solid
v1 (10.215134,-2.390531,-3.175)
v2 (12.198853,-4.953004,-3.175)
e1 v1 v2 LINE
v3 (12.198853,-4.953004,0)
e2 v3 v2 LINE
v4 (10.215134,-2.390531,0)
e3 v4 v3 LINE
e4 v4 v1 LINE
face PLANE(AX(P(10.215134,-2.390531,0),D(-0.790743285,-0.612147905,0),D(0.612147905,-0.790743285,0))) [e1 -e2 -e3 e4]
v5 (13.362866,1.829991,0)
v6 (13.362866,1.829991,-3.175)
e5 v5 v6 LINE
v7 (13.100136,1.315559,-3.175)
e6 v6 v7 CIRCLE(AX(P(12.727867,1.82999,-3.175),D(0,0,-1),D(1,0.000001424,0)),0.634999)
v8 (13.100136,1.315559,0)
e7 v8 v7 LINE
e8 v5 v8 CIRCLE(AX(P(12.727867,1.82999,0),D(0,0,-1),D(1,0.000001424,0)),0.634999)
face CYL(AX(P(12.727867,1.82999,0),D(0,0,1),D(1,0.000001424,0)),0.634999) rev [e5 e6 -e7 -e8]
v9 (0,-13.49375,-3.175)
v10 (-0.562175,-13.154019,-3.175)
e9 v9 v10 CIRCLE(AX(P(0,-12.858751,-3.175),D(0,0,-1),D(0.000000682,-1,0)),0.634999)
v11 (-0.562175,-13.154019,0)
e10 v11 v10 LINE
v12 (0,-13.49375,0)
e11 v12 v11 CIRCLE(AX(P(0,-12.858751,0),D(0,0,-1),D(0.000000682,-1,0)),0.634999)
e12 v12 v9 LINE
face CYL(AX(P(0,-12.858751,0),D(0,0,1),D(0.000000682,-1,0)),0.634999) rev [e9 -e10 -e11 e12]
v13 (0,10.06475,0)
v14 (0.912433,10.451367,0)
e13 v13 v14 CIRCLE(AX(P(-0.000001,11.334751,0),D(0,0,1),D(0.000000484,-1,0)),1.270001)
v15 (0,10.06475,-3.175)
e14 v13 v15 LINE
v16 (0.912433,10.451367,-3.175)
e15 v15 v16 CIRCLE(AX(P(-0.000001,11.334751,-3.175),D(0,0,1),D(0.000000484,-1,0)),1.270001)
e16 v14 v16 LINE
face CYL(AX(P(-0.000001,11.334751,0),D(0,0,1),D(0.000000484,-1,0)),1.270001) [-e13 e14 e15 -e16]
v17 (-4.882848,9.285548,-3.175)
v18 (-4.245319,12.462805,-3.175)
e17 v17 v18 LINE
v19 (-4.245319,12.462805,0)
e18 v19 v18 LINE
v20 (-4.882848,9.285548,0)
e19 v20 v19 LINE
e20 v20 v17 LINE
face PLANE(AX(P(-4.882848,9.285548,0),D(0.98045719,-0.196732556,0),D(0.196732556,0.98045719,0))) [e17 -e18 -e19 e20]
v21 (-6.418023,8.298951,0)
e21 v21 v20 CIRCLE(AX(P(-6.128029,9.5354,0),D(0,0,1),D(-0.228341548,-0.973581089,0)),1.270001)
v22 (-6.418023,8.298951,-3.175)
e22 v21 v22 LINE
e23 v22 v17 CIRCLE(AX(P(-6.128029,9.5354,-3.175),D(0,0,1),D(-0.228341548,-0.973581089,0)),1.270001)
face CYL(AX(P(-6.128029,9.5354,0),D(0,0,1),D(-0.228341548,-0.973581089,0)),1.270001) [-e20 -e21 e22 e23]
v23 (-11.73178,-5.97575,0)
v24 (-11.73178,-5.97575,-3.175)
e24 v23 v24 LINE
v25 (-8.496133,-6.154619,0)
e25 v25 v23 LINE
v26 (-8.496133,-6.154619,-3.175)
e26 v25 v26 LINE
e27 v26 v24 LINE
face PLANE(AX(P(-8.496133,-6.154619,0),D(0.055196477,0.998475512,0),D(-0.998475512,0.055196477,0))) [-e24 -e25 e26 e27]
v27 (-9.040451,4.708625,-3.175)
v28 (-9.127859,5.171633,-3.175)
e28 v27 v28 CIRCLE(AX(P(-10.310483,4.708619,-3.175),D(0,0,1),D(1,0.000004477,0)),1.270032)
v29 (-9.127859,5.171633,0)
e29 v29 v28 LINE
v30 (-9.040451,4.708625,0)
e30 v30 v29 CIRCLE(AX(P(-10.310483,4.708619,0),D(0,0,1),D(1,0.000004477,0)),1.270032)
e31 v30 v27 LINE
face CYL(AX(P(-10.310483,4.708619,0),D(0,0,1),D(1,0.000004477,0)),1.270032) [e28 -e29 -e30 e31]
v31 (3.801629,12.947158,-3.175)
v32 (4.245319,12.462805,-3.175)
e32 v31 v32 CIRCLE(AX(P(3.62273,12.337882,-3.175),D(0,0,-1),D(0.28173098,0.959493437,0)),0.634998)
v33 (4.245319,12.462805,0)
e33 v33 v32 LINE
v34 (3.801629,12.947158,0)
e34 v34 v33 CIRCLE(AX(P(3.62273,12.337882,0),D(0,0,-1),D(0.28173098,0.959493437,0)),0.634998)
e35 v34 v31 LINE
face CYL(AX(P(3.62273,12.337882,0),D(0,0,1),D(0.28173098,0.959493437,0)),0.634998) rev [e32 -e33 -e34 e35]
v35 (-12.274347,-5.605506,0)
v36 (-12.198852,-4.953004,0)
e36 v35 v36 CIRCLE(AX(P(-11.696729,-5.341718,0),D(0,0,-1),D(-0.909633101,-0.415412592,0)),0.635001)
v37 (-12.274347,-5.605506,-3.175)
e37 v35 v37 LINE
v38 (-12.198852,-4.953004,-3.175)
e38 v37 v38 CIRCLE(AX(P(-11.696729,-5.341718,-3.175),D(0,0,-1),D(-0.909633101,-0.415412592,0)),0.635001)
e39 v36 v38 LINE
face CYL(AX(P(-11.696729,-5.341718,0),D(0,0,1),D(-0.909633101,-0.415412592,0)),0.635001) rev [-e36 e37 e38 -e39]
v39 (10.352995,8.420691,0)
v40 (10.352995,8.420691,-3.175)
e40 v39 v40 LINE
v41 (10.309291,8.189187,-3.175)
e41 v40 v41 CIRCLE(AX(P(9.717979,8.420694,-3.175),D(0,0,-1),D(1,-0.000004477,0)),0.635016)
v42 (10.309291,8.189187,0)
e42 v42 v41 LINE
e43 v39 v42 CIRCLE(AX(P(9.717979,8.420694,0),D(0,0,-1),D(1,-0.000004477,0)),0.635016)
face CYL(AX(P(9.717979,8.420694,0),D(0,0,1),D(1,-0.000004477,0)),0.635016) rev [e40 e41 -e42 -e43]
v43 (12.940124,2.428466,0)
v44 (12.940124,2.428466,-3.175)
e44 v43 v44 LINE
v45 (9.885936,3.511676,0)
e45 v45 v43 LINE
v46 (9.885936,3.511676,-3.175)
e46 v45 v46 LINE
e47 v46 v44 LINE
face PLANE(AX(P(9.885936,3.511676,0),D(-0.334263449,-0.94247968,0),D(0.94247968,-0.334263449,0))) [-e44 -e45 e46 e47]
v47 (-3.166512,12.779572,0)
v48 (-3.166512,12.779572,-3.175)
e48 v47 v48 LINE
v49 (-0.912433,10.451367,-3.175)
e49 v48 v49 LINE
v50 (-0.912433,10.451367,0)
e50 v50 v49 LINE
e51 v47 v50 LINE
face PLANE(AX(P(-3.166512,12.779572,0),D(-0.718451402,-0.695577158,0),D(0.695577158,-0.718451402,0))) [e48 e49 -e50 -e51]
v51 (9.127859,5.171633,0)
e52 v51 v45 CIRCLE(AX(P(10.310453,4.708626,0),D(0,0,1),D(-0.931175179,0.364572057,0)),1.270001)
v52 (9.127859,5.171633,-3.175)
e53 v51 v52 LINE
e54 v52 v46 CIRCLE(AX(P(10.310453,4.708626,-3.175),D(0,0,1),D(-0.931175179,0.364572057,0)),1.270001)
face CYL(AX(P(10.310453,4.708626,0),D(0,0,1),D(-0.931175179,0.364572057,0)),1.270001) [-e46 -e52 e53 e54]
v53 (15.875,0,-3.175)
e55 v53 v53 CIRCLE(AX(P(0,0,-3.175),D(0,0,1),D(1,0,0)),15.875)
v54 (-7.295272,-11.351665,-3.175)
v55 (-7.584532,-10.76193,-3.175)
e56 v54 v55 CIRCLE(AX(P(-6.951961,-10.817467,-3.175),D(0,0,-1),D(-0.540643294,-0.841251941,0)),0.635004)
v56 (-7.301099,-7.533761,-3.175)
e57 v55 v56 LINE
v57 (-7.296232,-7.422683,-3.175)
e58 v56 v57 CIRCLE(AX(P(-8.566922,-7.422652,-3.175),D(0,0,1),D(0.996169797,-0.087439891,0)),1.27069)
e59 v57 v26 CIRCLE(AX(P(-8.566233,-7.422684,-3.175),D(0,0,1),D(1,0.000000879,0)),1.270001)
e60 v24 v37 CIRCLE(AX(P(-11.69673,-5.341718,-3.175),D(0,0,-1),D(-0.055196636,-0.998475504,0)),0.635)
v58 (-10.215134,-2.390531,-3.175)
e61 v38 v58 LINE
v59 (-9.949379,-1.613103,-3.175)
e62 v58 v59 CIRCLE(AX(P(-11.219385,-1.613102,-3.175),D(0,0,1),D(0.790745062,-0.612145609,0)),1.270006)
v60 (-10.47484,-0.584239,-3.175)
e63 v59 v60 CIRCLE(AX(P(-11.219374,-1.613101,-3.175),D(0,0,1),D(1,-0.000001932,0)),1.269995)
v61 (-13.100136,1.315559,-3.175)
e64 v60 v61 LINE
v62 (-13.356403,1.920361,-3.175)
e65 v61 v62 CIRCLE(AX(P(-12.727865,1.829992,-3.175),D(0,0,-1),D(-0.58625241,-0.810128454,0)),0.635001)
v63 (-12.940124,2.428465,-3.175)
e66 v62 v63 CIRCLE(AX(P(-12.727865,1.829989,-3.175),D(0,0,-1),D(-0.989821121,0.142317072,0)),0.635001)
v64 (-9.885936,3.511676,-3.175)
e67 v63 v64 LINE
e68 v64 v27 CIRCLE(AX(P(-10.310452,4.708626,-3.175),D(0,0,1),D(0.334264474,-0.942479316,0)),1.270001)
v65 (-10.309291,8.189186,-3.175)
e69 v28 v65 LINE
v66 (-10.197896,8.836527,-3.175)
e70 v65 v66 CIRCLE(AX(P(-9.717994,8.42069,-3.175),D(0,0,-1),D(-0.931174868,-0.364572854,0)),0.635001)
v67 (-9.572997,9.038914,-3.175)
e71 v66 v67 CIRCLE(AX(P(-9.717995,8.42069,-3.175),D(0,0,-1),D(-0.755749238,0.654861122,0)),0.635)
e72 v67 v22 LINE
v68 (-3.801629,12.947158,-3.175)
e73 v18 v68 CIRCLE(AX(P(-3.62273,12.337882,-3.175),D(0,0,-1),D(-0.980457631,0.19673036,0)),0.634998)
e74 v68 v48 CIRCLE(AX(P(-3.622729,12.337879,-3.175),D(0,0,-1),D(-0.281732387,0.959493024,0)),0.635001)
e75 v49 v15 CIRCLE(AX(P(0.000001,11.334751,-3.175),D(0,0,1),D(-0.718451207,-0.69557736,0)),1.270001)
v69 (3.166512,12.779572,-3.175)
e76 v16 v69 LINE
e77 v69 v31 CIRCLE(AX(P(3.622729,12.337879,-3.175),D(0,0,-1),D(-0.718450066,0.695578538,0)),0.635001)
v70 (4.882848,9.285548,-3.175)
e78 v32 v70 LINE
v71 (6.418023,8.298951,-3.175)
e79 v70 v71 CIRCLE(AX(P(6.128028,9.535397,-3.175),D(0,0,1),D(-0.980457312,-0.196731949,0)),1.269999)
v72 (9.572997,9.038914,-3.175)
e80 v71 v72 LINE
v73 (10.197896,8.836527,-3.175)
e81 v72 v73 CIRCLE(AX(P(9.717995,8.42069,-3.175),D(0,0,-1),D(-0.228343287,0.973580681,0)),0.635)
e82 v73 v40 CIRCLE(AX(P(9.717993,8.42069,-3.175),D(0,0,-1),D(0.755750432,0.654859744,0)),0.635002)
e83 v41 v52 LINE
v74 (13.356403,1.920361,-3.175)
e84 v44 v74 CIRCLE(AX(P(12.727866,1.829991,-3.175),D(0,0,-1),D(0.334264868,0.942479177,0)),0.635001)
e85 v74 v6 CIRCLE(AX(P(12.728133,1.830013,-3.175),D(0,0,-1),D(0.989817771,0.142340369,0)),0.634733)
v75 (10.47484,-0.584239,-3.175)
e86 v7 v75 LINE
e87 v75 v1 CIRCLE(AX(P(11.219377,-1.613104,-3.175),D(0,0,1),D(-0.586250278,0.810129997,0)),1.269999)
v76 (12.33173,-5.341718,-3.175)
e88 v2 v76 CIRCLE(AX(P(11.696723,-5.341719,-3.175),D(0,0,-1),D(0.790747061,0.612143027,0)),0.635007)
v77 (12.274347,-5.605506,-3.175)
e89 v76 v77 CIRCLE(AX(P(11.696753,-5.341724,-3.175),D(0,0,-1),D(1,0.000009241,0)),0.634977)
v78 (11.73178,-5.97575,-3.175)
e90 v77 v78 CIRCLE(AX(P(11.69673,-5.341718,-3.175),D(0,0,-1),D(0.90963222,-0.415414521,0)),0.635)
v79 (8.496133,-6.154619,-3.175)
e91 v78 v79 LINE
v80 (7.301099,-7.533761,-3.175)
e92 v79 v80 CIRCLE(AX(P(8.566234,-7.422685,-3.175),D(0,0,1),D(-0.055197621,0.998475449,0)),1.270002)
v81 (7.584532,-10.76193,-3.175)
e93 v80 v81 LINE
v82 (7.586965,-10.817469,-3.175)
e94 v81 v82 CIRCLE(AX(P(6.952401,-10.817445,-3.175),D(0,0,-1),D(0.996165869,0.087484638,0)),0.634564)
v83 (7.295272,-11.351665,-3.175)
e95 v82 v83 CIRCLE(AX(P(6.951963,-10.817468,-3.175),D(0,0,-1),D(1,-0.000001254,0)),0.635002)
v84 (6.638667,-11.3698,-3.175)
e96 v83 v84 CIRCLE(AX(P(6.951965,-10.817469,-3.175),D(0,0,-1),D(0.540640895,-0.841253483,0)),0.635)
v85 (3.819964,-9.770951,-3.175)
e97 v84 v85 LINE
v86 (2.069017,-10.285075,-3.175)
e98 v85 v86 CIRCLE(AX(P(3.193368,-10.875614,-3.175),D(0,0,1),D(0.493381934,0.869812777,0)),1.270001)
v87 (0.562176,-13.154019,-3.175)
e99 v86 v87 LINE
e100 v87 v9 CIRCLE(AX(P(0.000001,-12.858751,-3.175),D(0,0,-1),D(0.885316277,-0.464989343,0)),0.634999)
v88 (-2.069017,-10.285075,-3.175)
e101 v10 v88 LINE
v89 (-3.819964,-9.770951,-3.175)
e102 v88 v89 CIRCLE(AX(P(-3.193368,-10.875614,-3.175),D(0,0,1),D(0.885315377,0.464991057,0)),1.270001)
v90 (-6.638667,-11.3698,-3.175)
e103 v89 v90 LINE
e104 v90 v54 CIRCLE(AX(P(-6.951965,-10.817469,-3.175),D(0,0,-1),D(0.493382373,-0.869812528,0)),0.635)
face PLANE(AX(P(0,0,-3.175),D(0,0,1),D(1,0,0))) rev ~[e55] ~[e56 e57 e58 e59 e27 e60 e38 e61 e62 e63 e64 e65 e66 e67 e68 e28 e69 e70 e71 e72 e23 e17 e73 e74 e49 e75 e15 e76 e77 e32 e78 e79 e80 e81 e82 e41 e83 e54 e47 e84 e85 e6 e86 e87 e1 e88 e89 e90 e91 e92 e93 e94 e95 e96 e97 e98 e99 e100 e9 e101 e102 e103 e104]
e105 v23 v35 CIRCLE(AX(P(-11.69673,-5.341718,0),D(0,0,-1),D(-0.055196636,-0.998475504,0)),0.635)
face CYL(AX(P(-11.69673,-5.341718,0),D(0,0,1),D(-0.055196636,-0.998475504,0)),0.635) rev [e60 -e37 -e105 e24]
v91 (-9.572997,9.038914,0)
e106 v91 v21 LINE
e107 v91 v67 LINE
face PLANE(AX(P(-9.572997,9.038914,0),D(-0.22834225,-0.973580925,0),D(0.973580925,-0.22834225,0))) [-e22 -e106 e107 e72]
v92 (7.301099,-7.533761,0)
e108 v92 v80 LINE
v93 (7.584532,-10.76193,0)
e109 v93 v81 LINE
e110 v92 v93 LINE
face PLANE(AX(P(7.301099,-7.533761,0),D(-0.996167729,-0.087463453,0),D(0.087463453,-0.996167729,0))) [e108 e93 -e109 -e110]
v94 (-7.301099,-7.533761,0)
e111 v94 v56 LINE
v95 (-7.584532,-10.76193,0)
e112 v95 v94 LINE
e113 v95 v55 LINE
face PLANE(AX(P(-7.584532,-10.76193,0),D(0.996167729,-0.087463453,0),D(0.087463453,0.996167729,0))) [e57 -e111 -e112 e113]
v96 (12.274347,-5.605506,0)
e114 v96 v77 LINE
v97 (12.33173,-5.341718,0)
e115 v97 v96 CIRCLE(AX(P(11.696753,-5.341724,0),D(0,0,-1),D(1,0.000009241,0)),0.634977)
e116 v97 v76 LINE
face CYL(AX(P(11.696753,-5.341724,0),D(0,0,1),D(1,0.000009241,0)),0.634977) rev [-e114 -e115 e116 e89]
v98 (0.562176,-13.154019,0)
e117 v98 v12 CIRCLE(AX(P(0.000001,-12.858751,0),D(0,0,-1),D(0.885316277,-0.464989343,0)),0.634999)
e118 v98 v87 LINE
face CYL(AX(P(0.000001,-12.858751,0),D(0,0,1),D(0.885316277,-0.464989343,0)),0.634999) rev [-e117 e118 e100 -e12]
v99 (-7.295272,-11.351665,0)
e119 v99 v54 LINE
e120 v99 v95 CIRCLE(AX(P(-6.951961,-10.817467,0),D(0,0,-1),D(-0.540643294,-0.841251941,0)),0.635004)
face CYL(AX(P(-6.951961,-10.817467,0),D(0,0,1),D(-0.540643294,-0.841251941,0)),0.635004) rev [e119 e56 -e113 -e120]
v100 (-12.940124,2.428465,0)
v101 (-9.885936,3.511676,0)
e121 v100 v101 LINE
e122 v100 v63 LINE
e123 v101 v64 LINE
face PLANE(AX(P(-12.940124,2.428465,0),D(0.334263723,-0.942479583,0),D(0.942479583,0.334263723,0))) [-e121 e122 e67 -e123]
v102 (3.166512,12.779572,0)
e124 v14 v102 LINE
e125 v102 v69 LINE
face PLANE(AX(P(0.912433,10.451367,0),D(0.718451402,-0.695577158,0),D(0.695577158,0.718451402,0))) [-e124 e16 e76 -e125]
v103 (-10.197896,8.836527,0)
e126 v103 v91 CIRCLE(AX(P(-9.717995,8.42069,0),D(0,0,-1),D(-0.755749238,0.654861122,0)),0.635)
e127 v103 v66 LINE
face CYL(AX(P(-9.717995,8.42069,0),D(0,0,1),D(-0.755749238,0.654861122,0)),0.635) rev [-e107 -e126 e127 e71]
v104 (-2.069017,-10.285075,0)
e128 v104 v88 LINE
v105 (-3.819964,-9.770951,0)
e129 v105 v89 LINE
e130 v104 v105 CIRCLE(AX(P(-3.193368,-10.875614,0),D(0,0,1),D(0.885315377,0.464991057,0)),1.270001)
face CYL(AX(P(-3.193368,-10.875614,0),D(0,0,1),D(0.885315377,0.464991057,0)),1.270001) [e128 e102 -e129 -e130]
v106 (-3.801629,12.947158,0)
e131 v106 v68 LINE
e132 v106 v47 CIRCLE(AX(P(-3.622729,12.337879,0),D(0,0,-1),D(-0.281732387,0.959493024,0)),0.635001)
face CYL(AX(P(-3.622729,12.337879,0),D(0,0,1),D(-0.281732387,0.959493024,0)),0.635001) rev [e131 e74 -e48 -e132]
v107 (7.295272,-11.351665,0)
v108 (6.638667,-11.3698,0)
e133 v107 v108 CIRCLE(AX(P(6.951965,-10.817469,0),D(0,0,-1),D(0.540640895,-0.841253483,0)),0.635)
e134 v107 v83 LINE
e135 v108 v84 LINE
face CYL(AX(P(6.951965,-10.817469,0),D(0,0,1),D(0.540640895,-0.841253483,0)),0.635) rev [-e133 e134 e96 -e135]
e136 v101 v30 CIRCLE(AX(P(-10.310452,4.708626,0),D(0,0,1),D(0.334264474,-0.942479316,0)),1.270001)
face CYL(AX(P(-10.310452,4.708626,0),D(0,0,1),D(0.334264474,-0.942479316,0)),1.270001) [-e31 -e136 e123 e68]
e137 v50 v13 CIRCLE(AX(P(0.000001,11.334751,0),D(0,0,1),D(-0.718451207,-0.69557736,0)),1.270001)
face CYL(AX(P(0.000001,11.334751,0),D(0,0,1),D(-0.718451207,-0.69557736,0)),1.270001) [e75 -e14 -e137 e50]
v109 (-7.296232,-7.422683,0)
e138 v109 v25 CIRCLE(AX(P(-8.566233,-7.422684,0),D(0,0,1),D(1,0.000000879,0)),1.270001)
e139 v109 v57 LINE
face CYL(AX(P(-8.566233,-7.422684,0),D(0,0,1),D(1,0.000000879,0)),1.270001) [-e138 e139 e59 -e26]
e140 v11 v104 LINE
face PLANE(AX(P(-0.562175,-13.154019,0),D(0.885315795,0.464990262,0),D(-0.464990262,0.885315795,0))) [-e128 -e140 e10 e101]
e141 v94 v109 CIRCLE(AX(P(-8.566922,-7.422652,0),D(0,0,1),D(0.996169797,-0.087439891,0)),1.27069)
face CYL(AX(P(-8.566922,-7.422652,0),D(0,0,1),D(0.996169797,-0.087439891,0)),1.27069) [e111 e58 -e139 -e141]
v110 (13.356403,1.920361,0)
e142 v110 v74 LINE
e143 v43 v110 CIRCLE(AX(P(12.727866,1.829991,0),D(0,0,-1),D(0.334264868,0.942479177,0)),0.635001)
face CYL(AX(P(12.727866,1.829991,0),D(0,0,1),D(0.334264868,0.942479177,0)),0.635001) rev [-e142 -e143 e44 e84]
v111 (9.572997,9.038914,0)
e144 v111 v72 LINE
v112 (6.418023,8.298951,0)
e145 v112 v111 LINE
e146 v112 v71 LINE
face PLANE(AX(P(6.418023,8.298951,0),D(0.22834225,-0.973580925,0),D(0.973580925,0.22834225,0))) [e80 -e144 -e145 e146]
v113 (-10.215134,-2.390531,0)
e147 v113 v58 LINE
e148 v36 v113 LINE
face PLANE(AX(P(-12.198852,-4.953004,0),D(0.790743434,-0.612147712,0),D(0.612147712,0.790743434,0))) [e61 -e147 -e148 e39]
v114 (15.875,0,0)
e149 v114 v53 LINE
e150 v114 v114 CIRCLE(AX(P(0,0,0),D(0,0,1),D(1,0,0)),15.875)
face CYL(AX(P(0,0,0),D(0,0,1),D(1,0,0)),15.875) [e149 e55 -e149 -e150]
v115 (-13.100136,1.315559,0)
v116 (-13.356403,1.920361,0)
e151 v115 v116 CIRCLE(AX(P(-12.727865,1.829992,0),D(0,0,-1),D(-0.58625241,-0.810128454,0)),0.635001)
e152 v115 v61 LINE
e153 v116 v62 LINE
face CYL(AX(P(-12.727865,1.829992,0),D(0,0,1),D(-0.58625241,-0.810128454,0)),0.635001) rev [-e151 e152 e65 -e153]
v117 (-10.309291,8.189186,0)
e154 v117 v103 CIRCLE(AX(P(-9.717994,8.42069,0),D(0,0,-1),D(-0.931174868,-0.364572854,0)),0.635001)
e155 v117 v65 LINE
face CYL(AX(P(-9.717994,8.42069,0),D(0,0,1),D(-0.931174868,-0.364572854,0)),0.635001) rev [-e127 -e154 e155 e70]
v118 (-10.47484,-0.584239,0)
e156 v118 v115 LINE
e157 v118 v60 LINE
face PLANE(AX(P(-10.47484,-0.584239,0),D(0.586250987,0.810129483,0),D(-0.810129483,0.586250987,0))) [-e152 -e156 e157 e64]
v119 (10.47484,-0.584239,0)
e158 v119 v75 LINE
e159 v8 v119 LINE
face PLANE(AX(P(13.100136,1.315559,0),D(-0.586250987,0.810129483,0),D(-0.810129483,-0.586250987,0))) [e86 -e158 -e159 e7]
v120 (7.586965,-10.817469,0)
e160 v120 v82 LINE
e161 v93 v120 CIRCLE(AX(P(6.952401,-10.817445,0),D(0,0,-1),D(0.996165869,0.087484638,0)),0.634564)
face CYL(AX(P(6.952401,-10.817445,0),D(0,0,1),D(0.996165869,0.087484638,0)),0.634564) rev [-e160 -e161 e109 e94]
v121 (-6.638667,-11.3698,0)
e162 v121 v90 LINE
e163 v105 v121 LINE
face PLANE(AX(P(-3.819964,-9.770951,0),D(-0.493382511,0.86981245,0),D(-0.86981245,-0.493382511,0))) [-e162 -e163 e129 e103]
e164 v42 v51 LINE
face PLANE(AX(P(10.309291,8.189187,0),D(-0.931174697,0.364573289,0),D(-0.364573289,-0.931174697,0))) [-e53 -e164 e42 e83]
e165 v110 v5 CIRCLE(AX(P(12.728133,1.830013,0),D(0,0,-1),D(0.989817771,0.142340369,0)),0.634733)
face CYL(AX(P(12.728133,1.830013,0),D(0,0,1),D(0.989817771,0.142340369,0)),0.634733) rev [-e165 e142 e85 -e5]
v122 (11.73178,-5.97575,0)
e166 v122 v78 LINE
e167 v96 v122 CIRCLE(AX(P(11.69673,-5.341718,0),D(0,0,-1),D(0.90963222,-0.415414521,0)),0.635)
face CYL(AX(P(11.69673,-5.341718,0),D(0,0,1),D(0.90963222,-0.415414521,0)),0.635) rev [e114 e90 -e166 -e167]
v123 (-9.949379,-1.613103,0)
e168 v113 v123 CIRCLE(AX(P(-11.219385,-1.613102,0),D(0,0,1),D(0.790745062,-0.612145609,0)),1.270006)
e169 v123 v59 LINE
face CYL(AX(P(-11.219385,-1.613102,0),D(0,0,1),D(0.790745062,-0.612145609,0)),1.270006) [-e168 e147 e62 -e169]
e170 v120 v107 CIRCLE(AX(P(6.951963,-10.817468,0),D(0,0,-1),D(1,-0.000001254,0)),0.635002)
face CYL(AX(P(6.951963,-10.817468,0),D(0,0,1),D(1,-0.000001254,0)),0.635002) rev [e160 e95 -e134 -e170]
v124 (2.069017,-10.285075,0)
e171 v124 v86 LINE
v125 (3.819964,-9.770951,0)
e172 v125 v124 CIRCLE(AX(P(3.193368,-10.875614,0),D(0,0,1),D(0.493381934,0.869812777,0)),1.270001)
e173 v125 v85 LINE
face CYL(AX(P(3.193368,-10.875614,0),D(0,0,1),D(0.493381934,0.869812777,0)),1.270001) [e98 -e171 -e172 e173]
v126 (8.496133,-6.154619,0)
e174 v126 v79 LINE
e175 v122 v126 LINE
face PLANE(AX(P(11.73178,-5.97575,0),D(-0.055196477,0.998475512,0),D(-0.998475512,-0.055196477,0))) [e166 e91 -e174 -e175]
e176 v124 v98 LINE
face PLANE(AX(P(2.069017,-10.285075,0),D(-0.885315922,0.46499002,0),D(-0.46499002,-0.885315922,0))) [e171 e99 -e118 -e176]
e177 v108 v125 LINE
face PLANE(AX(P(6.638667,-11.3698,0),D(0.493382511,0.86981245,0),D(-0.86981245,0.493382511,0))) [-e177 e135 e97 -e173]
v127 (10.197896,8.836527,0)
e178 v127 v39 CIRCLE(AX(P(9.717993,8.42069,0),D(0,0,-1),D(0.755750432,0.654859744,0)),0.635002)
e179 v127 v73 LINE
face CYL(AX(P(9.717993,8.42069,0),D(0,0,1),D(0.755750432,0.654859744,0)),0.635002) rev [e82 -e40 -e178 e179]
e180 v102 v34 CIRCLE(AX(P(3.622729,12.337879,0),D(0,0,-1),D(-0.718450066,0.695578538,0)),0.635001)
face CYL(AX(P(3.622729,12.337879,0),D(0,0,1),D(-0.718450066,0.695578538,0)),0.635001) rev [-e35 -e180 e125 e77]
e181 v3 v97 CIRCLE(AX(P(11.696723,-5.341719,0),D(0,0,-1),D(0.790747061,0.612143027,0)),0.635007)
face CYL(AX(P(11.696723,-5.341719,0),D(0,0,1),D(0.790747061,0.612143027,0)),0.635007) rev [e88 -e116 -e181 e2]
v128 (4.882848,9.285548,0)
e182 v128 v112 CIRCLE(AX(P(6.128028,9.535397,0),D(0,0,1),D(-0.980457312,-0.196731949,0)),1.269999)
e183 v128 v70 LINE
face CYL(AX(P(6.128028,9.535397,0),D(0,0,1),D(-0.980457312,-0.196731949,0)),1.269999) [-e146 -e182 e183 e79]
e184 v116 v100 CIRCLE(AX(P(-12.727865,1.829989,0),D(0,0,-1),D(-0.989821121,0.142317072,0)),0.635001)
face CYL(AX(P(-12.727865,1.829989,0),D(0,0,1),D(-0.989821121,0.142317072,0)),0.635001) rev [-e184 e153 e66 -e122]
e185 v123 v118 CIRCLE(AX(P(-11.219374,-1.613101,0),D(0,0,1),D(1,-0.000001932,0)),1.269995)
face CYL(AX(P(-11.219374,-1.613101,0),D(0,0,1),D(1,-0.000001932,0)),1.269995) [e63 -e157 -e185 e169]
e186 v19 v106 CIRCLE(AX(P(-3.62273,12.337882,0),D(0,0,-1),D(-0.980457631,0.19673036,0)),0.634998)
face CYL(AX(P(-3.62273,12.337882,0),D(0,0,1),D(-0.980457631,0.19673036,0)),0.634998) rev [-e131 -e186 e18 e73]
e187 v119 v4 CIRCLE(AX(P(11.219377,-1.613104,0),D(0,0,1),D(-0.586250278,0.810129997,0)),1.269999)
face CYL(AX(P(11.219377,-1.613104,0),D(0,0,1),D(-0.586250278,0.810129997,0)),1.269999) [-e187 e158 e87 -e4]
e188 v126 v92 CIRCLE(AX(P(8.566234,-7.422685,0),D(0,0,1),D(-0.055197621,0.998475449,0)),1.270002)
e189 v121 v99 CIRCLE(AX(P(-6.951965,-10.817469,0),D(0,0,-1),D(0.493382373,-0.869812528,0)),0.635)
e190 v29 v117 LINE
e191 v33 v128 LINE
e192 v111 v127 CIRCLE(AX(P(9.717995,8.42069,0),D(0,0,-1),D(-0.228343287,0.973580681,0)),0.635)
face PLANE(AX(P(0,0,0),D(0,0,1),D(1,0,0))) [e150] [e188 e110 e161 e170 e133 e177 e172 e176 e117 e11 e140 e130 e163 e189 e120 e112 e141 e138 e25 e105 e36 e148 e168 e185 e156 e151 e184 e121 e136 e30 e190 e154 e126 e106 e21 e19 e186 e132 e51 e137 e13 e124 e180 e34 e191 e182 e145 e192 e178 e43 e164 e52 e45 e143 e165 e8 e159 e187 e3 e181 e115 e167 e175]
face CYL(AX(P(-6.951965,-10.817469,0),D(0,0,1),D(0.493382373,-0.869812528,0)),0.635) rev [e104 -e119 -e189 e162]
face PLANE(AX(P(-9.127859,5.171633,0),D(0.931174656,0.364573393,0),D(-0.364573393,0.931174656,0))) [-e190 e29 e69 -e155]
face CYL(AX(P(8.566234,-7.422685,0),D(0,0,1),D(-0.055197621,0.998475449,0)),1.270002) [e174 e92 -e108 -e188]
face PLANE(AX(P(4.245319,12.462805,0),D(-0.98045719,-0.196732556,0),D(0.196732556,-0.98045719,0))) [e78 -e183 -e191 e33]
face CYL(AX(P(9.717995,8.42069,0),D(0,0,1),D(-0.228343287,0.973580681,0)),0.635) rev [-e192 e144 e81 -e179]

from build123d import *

# Parameters (mm, degrees)
F0_R     = 15.875
F1_DEPTH = 3.175


with BuildPart() as f1:
    # F0 (on Top) → F1 (new body)
    with BuildSketch(Plane.XY):
        Circle(F0_R)
        with BuildLine():
            ThreePointArc((0, 13.49375), (1.920361, 13.356403), (3.801629, 12.947158))
            ThreePointArc((3.801629, 12.947158), (7.295272, 11.351665), (10.197896, 8.836527))
            ThreePointArc((10.197896, 8.836527), (12.274347, 5.605506), (13.356403, 1.920361))
            ThreePointArc((13.356403, 1.920361), (13.459369, 0.962633), (13.49375, 0))
            ThreePointArc((13.49375, 0), (13.185376, -2.868303), (12.274347, -5.605506))
            ThreePointArc((12.274347, -5.605506), (10.197896, -8.836527), (7.295272, -11.351665))
            ThreePointArc((7.295272, -11.351665), (3.801629, -12.947158), (0, -13.49375))
            ThreePointArc((0, -13.49375), (-3.801629, -12.947158), (-7.295272, -11.351665))
            ThreePointArc((-7.295272, -11.351665), (-10.197896, -8.836527), (-12.274347, -5.605506))
            ThreePointArc((-12.274347, -5.605506), (-13.356403, -1.920361), (-13.356403, 1.920361))
            ThreePointArc((-13.356403, 1.920361), (-12.274347, 5.605506), (-10.197896, 8.836527))
            ThreePointArc((-10.197896, 8.836527), (-7.295272, 11.351665), (-3.801629, 12.947158))
            ThreePointArc((-3.801629, 12.947158), (-1.920361, 13.356403), (0, 13.49375))
        make_face(mode=Mode.SUBTRACT)
        with BuildLine():
            ThreePointArc((-4.245319, 12.462805), (-4.090966, 12.766808), (-3.801629, 12.947158))
            ThreePointArc((-3.801629, 12.947158), (-7.295272, 11.351665), (-10.197896, 8.836527))
            ThreePointArc((-10.197896, 8.836527), (-9.913648, 9.024797), (-9.572997, 9.038914))
            Line((-9.572997, 9.038914), (-6.418023, 8.298951))
            ThreePointArc((-6.418023, 8.298951), (-6.916891, 10.530686), (-4.858029, 9.535398))
            ThreePointArc((-4.858029, 9.535398), (-4.864249, 9.409858), (-4.882848, 9.285548))
            Line((-4.882848, 9.285548), (-4.245319, 12.462805))
        make_face()
        with BuildLine():
            ThreePointArc((-6.418023, 8.298951), (-5.441415, 8.467007), (-4.882848, 9.285548))
            ThreePointArc((-4.882848, 9.285548), (-4.864249, 9.409858), (-4.858029, 9.535398))
            ThreePointArc((-4.858029, 9.535398), (-6.916891, 10.530686), (-6.418023, 8.298951))
        make_face()
        with BuildLine():
            ThreePointArc((-13.100136, 1.315559), (-13.312545, 1.58225), (-13.356403, 1.920361))
            ThreePointArc((-13.356403, 1.920361), (-13.356403, -1.920361), (-12.274347, -5.605506))
            ThreePointArc((-12.274347, -5.605506), (-12.327522, -5.268735), (-12.198852, -4.953004))
            Line((-12.198852, -4.953004), (-10.215134, -2.390531))
            ThreePointArc((-10.215134, -2.390531), (-12.476452, -1.793843), (-10.47484, -0.584239))
            Line((-10.47484, -0.584239), (-13.100136, 1.315559))
        make_face()
        with BuildLine():
            ThreePointArc((-9.949379, -1.613103), (-10.088347, -1.035463), (-10.47484, -0.584239))
            ThreePointArc((-10.47484, -0.584239), (-12.476452, -1.793843), (-10.215134, -2.390531))
            ThreePointArc((-10.215134, -2.390531), (-10.017653, -2.023901), (-9.949379, -1.613103))
        make_face()
        with BuildLine():
            ThreePointArc((-10.309291, 8.189186), (-10.343797, 8.528379), (-10.197896, 8.836527))
            ThreePointArc((-10.197896, 8.836527), (-12.274347, 5.605506), (-13.356403, 1.920361))
            ThreePointArc((-13.356403, 1.920361), (-13.219065, 2.232419), (-12.940124, 2.428465))
            Line((-12.940124, 2.428465), (-9.885936, 3.511676))
            ThreePointArc((-9.885936, 3.511676), (-11.465684, 5.236202), (-9.127859, 5.171633))
            Line((-9.127859, 5.171633), (-10.309291, 8.189186))
        make_face()
        with BuildLine():
            ThreePointArc((-9.040451, 4.708625), (-9.062495, 4.944219), (-9.127859, 5.171633))
            ThreePointArc((-9.127859, 5.171633), (-11.465684, 5.236202), (-9.885936, 3.511676))
            ThreePointArc((-9.885936, 3.511676), (-9.273139, 3.975902), (-9.040451, 4.708625))
        make_face()
        with BuildLine():
            Line((0, 12.60475), (0, 13.49375))
            ThreePointArc((0, 13.49375), (-1.920361, 13.356403), (-3.801629, 12.947158))
            ThreePointArc((-3.801629, 12.947158), (-3.460718, 12.951865), (-3.166512, 12.779572))
            Line((-3.166512, 12.779572), (-0.912433, 10.451367))
            ThreePointArc((-0.912433, 10.451367), (-1.169358, 11.830231), (0, 12.60475))
        make_face()
        with BuildLine():
            ThreePointArc((1.27, 11.33475), (0.898026, 12.232776), (0, 12.60475))
            Line((0, 12.60475), (0, 10.06475))
            ThreePointArc((0, 10.06475), (0.495481, 10.165392), (0.912433, 10.451367))
            ThreePointArc((0.912433, 10.451367), (1.177219, 10.858247), (1.27, 11.33475))
        make_face()
        with BuildLine():
            ThreePointArc((3.166512, 12.779572), (3.460718, 12.951865), (3.801629, 12.947158))
            ThreePointArc((3.801629, 12.947158), (1.920361, 13.356403), (0, 13.49375))
            Line((0, 13.49375), (0, 12.60475))
            ThreePointArc((0, 12.60475), (0.898026, 12.232776), (1.27, 11.33475))
            ThreePointArc((1.27, 11.33475), (1.177219, 10.858247), (0.912433, 10.451367))
            Line((0.912433, 10.451367), (3.166512, 12.779572))
        make_face()
        with BuildLine():
            Line((0, 10.06475), (0, 12.60475))
            ThreePointArc((0, 12.60475), (-1.169358, 11.830231), (-0.912433, 10.451367))
            ThreePointArc((-0.912433, 10.451367), (-0.495481, 10.165392), (0, 10.06475))
        make_face()
        with BuildLine():
            ThreePointArc((10.197896, 8.836527), (7.295272, 11.351665), (3.801629, 12.947158))
            ThreePointArc((3.801629, 12.947158), (4.090966, 12.766808), (4.245319, 12.462805))
            Line((4.245319, 12.462805), (4.882848, 9.285548))
            ThreePointArc((4.882848, 9.285548), (6.002488, 10.799178), (7.398029, 9.535398))
            ThreePointArc((7.398029, 9.535398), (7.123316, 8.746536), (6.418023, 8.298951))
            Line((6.418023, 8.298951), (9.572997, 9.038914))
            ThreePointArc((9.572997, 9.038914), (9.913648, 9.024797), (10.197896, 8.836527))
        make_face()
        with BuildLine():
            ThreePointArc((7.398029, 9.535398), (6.002488, 10.799178), (4.882848, 9.285548))
            ThreePointArc((4.882848, 9.285548), (5.441415, 8.467006), (6.418023, 8.298951))
            ThreePointArc((6.418023, 8.298951), (7.123316, 8.746536), (7.398029, 9.535398))
        make_face()
        with BuildLine():
            ThreePointArc((13.356403, 1.920361), (12.274347, 5.605506), (10.197896, 8.836527))
            ThreePointArc((10.197896, 8.836527), (10.312958, 8.6426), (10.352995, 8.420691))
            ThreePointArc((10.352995, 8.420691), (10.341973, 8.302894), (10.309291, 8.189187))
            Line((10.309291, 8.189187), (9.127859, 5.171633))
            ThreePointArc((9.127859, 5.171633), (10.546044, 5.956582), (11.580451, 4.708625))
            ThreePointArc((11.580451, 4.708625), (11.043174, 3.671313), (9.885936, 3.511676))
            Line((9.885936, 3.511676), (12.940124, 2.428466))
            ThreePointArc((12.940124, 2.428466), (13.219065, 2.23242), (13.356403, 1.920361))
        make_face()
        with BuildLine():
            ThreePointArc((9.127859, 5.171633), (9.155219, 4.181048), (9.885936, 3.511676))
            ThreePointArc((9.885936, 3.511676), (11.043174, 3.671313), (11.580451, 4.708625))
            ThreePointArc((11.580451, 4.708625), (10.546044, 5.956582), (9.127859, 5.171633))
        make_face()
        with BuildLine():
            ThreePointArc((13.49375, 0), (13.459369, 0.962633), (13.356403, 1.920361))
            ThreePointArc((13.356403, 1.920361), (13.361249, 1.875291), (13.362866, 1.829991))
            ThreePointArc((13.362866, 1.829991), (13.293382, 1.541171), (13.100136, 1.315559))
            Line((13.100136, 1.315559), (10.47484, -0.584239))
            ThreePointArc((10.47484, -0.584239), (11.797019, -0.482072), (12.489379, -1.613103))
            ThreePointArc((12.489379, -1.613103), (11.630177, -2.814829), (10.215134, -2.390531))
            Line((10.215134, -2.390531), (12.198853, -4.953004))
            ThreePointArc((12.198853, -4.953004), (12.297593, -5.136319), (12.33173, -5.341718))
            ThreePointArc((12.33173, -5.341718), (12.317219, -5.476697), (12.274347, -5.605506))
            ThreePointArc((12.274347, -5.605506), (13.185376, -2.868303), (13.49375, 0))
        make_face()
        with BuildLine():
            ThreePointArc((12.489379, -1.613103), (11.797019, -0.482072), (10.47484, -0.584239))
            ThreePointArc((10.47484, -0.584239), (9.962305, -1.432363), (10.215134, -2.390531))
            ThreePointArc((10.215134, -2.390531), (11.630177, -2.814829), (12.489379, -1.613103))
        make_face()
        with BuildLine():
            ThreePointArc((7.295272, -11.351665), (10.197896, -8.836527), (12.274347, -5.605506))
            ThreePointArc((12.274347, -5.605506), (12.054655, -5.866232), (11.73178, -5.97575))
            Line((11.73178, -5.97575), (8.496133, -6.154619))
            ThreePointArc((8.496133, -6.154619), (9.439122, -6.500206), (9.836232, -7.422683))
            ThreePointArc((9.836232, -7.422683), (8.621825, -8.691465), (7.301099, -7.533761))
            Line((7.301099, -7.533761), (7.584532, -10.76193))
            ThreePointArc((7.584532, -10.76193), (7.586357, -10.789673), (7.586965, -10.817469))
            ThreePointArc((7.586965, -10.817469), (7.509291, -11.121792), (7.295272, -11.351665))
        make_face()
        with BuildLine():
            ThreePointArc((9.836232, -7.422683), (9.439122, -6.500206), (8.496133, -6.154619))
            ThreePointArc((8.496133, -6.154619), (7.606431, -6.59101), (7.301099, -7.533761))
            ThreePointArc((7.301099, -7.533761), (8.621825, -8.691465), (9.836232, -7.422683))
        make_face()
        with BuildLine():
            ThreePointArc((0, -13.49375), (3.801629, -12.947158), (7.295272, -11.351665))
            ThreePointArc((7.295272, -11.351665), (6.969497, -11.452227), (6.638667, -11.3698))
            Line((6.638667, -11.3698), (3.819964, -9.770951))
            ThreePointArc((3.819964, -9.770951), (4.290792, -10.236425), (4.463368, -10.875613))
            ThreePointArc((4.463368, -10.875613), (2.889251, -12.108663), (2.069017, -10.285075))
            Line((2.069017, -10.285075), (0.562176, -13.154019))
            ThreePointArc((0.562176, -13.154019), (0.328428, -13.402221), (0, -13.49375))
        make_face()
        with BuildLine():
            ThreePointArc((4.463368, -10.875613), (4.290792, -10.236425), (3.819964, -9.770951))
            ThreePointArc((3.819964, -9.770951), (2.835568, -9.657057), (2.069017, -10.285075))
            ThreePointArc((2.069017, -10.285075), (2.889251, -12.108663), (4.463368, -10.875613))
        make_face()
        with BuildLine():
            ThreePointArc((-6.638667, -11.3698), (-6.969497, -11.452227), (-7.295272, -11.351665))
            ThreePointArc((-7.295272, -11.351665), (-3.801629, -12.947158), (0, -13.49375))
            ThreePointArc((0, -13.49375), (-0.328427, -13.402221), (-0.562175, -13.154019))
            Line((-0.562175, -13.154019), (-2.069017, -10.285075))
            ThreePointArc((-2.069017, -10.285075), (-1.960318, -10.571496), (-1.923368, -10.875613))
            ThreePointArc((-1.923368, -10.875613), (-3.832556, -11.973036), (-3.819964, -9.770951))
            Line((-3.819964, -9.770951), (-6.638667, -11.3698))
        make_face()
        with BuildLine():
            ThreePointArc((-2.069017, -10.285075), (-2.835568, -9.657057), (-3.819964, -9.770951))
            ThreePointArc((-3.819964, -9.770951), (-3.832556, -11.973036), (-1.923368, -10.875613))
            ThreePointArc((-1.923368, -10.875613), (-1.960318, -10.571496), (-2.069017, -10.285075))
        make_face()
        with BuildLine():
            ThreePointArc((-11.73178, -5.97575), (-12.054655, -5.866232), (-12.274347, -5.605506))
            ThreePointArc((-12.274347, -5.605506), (-10.197896, -8.836527), (-7.295272, -11.351665))
            ThreePointArc((-7.295272, -11.351665), (-7.522078, -11.097104), (-7.584532, -10.76193))
            Line((-7.584532, -10.76193), (-7.301099, -7.533761))
            ThreePointArc((-7.301099, -7.533761), (-9.526034, -8.254356), (-8.496133, -6.154619))
            Line((-8.496133, -6.154619), (-11.73178, -5.97575))
        make_face()
        with BuildLine():
            ThreePointArc((-7.296232, -7.422683), (-7.643756, -6.549793), (-8.496133, -6.154619))
            ThreePointArc((-8.496133, -6.154619), (-9.526034, -8.254356), (-7.301099, -7.533761))
            ThreePointArc((-7.301099, -7.533761), (-7.29745, -7.478275), (-7.296232, -7.422683))
        make_face()
    extrude(amount=-F1_DEPTH)


solid = f1.part
